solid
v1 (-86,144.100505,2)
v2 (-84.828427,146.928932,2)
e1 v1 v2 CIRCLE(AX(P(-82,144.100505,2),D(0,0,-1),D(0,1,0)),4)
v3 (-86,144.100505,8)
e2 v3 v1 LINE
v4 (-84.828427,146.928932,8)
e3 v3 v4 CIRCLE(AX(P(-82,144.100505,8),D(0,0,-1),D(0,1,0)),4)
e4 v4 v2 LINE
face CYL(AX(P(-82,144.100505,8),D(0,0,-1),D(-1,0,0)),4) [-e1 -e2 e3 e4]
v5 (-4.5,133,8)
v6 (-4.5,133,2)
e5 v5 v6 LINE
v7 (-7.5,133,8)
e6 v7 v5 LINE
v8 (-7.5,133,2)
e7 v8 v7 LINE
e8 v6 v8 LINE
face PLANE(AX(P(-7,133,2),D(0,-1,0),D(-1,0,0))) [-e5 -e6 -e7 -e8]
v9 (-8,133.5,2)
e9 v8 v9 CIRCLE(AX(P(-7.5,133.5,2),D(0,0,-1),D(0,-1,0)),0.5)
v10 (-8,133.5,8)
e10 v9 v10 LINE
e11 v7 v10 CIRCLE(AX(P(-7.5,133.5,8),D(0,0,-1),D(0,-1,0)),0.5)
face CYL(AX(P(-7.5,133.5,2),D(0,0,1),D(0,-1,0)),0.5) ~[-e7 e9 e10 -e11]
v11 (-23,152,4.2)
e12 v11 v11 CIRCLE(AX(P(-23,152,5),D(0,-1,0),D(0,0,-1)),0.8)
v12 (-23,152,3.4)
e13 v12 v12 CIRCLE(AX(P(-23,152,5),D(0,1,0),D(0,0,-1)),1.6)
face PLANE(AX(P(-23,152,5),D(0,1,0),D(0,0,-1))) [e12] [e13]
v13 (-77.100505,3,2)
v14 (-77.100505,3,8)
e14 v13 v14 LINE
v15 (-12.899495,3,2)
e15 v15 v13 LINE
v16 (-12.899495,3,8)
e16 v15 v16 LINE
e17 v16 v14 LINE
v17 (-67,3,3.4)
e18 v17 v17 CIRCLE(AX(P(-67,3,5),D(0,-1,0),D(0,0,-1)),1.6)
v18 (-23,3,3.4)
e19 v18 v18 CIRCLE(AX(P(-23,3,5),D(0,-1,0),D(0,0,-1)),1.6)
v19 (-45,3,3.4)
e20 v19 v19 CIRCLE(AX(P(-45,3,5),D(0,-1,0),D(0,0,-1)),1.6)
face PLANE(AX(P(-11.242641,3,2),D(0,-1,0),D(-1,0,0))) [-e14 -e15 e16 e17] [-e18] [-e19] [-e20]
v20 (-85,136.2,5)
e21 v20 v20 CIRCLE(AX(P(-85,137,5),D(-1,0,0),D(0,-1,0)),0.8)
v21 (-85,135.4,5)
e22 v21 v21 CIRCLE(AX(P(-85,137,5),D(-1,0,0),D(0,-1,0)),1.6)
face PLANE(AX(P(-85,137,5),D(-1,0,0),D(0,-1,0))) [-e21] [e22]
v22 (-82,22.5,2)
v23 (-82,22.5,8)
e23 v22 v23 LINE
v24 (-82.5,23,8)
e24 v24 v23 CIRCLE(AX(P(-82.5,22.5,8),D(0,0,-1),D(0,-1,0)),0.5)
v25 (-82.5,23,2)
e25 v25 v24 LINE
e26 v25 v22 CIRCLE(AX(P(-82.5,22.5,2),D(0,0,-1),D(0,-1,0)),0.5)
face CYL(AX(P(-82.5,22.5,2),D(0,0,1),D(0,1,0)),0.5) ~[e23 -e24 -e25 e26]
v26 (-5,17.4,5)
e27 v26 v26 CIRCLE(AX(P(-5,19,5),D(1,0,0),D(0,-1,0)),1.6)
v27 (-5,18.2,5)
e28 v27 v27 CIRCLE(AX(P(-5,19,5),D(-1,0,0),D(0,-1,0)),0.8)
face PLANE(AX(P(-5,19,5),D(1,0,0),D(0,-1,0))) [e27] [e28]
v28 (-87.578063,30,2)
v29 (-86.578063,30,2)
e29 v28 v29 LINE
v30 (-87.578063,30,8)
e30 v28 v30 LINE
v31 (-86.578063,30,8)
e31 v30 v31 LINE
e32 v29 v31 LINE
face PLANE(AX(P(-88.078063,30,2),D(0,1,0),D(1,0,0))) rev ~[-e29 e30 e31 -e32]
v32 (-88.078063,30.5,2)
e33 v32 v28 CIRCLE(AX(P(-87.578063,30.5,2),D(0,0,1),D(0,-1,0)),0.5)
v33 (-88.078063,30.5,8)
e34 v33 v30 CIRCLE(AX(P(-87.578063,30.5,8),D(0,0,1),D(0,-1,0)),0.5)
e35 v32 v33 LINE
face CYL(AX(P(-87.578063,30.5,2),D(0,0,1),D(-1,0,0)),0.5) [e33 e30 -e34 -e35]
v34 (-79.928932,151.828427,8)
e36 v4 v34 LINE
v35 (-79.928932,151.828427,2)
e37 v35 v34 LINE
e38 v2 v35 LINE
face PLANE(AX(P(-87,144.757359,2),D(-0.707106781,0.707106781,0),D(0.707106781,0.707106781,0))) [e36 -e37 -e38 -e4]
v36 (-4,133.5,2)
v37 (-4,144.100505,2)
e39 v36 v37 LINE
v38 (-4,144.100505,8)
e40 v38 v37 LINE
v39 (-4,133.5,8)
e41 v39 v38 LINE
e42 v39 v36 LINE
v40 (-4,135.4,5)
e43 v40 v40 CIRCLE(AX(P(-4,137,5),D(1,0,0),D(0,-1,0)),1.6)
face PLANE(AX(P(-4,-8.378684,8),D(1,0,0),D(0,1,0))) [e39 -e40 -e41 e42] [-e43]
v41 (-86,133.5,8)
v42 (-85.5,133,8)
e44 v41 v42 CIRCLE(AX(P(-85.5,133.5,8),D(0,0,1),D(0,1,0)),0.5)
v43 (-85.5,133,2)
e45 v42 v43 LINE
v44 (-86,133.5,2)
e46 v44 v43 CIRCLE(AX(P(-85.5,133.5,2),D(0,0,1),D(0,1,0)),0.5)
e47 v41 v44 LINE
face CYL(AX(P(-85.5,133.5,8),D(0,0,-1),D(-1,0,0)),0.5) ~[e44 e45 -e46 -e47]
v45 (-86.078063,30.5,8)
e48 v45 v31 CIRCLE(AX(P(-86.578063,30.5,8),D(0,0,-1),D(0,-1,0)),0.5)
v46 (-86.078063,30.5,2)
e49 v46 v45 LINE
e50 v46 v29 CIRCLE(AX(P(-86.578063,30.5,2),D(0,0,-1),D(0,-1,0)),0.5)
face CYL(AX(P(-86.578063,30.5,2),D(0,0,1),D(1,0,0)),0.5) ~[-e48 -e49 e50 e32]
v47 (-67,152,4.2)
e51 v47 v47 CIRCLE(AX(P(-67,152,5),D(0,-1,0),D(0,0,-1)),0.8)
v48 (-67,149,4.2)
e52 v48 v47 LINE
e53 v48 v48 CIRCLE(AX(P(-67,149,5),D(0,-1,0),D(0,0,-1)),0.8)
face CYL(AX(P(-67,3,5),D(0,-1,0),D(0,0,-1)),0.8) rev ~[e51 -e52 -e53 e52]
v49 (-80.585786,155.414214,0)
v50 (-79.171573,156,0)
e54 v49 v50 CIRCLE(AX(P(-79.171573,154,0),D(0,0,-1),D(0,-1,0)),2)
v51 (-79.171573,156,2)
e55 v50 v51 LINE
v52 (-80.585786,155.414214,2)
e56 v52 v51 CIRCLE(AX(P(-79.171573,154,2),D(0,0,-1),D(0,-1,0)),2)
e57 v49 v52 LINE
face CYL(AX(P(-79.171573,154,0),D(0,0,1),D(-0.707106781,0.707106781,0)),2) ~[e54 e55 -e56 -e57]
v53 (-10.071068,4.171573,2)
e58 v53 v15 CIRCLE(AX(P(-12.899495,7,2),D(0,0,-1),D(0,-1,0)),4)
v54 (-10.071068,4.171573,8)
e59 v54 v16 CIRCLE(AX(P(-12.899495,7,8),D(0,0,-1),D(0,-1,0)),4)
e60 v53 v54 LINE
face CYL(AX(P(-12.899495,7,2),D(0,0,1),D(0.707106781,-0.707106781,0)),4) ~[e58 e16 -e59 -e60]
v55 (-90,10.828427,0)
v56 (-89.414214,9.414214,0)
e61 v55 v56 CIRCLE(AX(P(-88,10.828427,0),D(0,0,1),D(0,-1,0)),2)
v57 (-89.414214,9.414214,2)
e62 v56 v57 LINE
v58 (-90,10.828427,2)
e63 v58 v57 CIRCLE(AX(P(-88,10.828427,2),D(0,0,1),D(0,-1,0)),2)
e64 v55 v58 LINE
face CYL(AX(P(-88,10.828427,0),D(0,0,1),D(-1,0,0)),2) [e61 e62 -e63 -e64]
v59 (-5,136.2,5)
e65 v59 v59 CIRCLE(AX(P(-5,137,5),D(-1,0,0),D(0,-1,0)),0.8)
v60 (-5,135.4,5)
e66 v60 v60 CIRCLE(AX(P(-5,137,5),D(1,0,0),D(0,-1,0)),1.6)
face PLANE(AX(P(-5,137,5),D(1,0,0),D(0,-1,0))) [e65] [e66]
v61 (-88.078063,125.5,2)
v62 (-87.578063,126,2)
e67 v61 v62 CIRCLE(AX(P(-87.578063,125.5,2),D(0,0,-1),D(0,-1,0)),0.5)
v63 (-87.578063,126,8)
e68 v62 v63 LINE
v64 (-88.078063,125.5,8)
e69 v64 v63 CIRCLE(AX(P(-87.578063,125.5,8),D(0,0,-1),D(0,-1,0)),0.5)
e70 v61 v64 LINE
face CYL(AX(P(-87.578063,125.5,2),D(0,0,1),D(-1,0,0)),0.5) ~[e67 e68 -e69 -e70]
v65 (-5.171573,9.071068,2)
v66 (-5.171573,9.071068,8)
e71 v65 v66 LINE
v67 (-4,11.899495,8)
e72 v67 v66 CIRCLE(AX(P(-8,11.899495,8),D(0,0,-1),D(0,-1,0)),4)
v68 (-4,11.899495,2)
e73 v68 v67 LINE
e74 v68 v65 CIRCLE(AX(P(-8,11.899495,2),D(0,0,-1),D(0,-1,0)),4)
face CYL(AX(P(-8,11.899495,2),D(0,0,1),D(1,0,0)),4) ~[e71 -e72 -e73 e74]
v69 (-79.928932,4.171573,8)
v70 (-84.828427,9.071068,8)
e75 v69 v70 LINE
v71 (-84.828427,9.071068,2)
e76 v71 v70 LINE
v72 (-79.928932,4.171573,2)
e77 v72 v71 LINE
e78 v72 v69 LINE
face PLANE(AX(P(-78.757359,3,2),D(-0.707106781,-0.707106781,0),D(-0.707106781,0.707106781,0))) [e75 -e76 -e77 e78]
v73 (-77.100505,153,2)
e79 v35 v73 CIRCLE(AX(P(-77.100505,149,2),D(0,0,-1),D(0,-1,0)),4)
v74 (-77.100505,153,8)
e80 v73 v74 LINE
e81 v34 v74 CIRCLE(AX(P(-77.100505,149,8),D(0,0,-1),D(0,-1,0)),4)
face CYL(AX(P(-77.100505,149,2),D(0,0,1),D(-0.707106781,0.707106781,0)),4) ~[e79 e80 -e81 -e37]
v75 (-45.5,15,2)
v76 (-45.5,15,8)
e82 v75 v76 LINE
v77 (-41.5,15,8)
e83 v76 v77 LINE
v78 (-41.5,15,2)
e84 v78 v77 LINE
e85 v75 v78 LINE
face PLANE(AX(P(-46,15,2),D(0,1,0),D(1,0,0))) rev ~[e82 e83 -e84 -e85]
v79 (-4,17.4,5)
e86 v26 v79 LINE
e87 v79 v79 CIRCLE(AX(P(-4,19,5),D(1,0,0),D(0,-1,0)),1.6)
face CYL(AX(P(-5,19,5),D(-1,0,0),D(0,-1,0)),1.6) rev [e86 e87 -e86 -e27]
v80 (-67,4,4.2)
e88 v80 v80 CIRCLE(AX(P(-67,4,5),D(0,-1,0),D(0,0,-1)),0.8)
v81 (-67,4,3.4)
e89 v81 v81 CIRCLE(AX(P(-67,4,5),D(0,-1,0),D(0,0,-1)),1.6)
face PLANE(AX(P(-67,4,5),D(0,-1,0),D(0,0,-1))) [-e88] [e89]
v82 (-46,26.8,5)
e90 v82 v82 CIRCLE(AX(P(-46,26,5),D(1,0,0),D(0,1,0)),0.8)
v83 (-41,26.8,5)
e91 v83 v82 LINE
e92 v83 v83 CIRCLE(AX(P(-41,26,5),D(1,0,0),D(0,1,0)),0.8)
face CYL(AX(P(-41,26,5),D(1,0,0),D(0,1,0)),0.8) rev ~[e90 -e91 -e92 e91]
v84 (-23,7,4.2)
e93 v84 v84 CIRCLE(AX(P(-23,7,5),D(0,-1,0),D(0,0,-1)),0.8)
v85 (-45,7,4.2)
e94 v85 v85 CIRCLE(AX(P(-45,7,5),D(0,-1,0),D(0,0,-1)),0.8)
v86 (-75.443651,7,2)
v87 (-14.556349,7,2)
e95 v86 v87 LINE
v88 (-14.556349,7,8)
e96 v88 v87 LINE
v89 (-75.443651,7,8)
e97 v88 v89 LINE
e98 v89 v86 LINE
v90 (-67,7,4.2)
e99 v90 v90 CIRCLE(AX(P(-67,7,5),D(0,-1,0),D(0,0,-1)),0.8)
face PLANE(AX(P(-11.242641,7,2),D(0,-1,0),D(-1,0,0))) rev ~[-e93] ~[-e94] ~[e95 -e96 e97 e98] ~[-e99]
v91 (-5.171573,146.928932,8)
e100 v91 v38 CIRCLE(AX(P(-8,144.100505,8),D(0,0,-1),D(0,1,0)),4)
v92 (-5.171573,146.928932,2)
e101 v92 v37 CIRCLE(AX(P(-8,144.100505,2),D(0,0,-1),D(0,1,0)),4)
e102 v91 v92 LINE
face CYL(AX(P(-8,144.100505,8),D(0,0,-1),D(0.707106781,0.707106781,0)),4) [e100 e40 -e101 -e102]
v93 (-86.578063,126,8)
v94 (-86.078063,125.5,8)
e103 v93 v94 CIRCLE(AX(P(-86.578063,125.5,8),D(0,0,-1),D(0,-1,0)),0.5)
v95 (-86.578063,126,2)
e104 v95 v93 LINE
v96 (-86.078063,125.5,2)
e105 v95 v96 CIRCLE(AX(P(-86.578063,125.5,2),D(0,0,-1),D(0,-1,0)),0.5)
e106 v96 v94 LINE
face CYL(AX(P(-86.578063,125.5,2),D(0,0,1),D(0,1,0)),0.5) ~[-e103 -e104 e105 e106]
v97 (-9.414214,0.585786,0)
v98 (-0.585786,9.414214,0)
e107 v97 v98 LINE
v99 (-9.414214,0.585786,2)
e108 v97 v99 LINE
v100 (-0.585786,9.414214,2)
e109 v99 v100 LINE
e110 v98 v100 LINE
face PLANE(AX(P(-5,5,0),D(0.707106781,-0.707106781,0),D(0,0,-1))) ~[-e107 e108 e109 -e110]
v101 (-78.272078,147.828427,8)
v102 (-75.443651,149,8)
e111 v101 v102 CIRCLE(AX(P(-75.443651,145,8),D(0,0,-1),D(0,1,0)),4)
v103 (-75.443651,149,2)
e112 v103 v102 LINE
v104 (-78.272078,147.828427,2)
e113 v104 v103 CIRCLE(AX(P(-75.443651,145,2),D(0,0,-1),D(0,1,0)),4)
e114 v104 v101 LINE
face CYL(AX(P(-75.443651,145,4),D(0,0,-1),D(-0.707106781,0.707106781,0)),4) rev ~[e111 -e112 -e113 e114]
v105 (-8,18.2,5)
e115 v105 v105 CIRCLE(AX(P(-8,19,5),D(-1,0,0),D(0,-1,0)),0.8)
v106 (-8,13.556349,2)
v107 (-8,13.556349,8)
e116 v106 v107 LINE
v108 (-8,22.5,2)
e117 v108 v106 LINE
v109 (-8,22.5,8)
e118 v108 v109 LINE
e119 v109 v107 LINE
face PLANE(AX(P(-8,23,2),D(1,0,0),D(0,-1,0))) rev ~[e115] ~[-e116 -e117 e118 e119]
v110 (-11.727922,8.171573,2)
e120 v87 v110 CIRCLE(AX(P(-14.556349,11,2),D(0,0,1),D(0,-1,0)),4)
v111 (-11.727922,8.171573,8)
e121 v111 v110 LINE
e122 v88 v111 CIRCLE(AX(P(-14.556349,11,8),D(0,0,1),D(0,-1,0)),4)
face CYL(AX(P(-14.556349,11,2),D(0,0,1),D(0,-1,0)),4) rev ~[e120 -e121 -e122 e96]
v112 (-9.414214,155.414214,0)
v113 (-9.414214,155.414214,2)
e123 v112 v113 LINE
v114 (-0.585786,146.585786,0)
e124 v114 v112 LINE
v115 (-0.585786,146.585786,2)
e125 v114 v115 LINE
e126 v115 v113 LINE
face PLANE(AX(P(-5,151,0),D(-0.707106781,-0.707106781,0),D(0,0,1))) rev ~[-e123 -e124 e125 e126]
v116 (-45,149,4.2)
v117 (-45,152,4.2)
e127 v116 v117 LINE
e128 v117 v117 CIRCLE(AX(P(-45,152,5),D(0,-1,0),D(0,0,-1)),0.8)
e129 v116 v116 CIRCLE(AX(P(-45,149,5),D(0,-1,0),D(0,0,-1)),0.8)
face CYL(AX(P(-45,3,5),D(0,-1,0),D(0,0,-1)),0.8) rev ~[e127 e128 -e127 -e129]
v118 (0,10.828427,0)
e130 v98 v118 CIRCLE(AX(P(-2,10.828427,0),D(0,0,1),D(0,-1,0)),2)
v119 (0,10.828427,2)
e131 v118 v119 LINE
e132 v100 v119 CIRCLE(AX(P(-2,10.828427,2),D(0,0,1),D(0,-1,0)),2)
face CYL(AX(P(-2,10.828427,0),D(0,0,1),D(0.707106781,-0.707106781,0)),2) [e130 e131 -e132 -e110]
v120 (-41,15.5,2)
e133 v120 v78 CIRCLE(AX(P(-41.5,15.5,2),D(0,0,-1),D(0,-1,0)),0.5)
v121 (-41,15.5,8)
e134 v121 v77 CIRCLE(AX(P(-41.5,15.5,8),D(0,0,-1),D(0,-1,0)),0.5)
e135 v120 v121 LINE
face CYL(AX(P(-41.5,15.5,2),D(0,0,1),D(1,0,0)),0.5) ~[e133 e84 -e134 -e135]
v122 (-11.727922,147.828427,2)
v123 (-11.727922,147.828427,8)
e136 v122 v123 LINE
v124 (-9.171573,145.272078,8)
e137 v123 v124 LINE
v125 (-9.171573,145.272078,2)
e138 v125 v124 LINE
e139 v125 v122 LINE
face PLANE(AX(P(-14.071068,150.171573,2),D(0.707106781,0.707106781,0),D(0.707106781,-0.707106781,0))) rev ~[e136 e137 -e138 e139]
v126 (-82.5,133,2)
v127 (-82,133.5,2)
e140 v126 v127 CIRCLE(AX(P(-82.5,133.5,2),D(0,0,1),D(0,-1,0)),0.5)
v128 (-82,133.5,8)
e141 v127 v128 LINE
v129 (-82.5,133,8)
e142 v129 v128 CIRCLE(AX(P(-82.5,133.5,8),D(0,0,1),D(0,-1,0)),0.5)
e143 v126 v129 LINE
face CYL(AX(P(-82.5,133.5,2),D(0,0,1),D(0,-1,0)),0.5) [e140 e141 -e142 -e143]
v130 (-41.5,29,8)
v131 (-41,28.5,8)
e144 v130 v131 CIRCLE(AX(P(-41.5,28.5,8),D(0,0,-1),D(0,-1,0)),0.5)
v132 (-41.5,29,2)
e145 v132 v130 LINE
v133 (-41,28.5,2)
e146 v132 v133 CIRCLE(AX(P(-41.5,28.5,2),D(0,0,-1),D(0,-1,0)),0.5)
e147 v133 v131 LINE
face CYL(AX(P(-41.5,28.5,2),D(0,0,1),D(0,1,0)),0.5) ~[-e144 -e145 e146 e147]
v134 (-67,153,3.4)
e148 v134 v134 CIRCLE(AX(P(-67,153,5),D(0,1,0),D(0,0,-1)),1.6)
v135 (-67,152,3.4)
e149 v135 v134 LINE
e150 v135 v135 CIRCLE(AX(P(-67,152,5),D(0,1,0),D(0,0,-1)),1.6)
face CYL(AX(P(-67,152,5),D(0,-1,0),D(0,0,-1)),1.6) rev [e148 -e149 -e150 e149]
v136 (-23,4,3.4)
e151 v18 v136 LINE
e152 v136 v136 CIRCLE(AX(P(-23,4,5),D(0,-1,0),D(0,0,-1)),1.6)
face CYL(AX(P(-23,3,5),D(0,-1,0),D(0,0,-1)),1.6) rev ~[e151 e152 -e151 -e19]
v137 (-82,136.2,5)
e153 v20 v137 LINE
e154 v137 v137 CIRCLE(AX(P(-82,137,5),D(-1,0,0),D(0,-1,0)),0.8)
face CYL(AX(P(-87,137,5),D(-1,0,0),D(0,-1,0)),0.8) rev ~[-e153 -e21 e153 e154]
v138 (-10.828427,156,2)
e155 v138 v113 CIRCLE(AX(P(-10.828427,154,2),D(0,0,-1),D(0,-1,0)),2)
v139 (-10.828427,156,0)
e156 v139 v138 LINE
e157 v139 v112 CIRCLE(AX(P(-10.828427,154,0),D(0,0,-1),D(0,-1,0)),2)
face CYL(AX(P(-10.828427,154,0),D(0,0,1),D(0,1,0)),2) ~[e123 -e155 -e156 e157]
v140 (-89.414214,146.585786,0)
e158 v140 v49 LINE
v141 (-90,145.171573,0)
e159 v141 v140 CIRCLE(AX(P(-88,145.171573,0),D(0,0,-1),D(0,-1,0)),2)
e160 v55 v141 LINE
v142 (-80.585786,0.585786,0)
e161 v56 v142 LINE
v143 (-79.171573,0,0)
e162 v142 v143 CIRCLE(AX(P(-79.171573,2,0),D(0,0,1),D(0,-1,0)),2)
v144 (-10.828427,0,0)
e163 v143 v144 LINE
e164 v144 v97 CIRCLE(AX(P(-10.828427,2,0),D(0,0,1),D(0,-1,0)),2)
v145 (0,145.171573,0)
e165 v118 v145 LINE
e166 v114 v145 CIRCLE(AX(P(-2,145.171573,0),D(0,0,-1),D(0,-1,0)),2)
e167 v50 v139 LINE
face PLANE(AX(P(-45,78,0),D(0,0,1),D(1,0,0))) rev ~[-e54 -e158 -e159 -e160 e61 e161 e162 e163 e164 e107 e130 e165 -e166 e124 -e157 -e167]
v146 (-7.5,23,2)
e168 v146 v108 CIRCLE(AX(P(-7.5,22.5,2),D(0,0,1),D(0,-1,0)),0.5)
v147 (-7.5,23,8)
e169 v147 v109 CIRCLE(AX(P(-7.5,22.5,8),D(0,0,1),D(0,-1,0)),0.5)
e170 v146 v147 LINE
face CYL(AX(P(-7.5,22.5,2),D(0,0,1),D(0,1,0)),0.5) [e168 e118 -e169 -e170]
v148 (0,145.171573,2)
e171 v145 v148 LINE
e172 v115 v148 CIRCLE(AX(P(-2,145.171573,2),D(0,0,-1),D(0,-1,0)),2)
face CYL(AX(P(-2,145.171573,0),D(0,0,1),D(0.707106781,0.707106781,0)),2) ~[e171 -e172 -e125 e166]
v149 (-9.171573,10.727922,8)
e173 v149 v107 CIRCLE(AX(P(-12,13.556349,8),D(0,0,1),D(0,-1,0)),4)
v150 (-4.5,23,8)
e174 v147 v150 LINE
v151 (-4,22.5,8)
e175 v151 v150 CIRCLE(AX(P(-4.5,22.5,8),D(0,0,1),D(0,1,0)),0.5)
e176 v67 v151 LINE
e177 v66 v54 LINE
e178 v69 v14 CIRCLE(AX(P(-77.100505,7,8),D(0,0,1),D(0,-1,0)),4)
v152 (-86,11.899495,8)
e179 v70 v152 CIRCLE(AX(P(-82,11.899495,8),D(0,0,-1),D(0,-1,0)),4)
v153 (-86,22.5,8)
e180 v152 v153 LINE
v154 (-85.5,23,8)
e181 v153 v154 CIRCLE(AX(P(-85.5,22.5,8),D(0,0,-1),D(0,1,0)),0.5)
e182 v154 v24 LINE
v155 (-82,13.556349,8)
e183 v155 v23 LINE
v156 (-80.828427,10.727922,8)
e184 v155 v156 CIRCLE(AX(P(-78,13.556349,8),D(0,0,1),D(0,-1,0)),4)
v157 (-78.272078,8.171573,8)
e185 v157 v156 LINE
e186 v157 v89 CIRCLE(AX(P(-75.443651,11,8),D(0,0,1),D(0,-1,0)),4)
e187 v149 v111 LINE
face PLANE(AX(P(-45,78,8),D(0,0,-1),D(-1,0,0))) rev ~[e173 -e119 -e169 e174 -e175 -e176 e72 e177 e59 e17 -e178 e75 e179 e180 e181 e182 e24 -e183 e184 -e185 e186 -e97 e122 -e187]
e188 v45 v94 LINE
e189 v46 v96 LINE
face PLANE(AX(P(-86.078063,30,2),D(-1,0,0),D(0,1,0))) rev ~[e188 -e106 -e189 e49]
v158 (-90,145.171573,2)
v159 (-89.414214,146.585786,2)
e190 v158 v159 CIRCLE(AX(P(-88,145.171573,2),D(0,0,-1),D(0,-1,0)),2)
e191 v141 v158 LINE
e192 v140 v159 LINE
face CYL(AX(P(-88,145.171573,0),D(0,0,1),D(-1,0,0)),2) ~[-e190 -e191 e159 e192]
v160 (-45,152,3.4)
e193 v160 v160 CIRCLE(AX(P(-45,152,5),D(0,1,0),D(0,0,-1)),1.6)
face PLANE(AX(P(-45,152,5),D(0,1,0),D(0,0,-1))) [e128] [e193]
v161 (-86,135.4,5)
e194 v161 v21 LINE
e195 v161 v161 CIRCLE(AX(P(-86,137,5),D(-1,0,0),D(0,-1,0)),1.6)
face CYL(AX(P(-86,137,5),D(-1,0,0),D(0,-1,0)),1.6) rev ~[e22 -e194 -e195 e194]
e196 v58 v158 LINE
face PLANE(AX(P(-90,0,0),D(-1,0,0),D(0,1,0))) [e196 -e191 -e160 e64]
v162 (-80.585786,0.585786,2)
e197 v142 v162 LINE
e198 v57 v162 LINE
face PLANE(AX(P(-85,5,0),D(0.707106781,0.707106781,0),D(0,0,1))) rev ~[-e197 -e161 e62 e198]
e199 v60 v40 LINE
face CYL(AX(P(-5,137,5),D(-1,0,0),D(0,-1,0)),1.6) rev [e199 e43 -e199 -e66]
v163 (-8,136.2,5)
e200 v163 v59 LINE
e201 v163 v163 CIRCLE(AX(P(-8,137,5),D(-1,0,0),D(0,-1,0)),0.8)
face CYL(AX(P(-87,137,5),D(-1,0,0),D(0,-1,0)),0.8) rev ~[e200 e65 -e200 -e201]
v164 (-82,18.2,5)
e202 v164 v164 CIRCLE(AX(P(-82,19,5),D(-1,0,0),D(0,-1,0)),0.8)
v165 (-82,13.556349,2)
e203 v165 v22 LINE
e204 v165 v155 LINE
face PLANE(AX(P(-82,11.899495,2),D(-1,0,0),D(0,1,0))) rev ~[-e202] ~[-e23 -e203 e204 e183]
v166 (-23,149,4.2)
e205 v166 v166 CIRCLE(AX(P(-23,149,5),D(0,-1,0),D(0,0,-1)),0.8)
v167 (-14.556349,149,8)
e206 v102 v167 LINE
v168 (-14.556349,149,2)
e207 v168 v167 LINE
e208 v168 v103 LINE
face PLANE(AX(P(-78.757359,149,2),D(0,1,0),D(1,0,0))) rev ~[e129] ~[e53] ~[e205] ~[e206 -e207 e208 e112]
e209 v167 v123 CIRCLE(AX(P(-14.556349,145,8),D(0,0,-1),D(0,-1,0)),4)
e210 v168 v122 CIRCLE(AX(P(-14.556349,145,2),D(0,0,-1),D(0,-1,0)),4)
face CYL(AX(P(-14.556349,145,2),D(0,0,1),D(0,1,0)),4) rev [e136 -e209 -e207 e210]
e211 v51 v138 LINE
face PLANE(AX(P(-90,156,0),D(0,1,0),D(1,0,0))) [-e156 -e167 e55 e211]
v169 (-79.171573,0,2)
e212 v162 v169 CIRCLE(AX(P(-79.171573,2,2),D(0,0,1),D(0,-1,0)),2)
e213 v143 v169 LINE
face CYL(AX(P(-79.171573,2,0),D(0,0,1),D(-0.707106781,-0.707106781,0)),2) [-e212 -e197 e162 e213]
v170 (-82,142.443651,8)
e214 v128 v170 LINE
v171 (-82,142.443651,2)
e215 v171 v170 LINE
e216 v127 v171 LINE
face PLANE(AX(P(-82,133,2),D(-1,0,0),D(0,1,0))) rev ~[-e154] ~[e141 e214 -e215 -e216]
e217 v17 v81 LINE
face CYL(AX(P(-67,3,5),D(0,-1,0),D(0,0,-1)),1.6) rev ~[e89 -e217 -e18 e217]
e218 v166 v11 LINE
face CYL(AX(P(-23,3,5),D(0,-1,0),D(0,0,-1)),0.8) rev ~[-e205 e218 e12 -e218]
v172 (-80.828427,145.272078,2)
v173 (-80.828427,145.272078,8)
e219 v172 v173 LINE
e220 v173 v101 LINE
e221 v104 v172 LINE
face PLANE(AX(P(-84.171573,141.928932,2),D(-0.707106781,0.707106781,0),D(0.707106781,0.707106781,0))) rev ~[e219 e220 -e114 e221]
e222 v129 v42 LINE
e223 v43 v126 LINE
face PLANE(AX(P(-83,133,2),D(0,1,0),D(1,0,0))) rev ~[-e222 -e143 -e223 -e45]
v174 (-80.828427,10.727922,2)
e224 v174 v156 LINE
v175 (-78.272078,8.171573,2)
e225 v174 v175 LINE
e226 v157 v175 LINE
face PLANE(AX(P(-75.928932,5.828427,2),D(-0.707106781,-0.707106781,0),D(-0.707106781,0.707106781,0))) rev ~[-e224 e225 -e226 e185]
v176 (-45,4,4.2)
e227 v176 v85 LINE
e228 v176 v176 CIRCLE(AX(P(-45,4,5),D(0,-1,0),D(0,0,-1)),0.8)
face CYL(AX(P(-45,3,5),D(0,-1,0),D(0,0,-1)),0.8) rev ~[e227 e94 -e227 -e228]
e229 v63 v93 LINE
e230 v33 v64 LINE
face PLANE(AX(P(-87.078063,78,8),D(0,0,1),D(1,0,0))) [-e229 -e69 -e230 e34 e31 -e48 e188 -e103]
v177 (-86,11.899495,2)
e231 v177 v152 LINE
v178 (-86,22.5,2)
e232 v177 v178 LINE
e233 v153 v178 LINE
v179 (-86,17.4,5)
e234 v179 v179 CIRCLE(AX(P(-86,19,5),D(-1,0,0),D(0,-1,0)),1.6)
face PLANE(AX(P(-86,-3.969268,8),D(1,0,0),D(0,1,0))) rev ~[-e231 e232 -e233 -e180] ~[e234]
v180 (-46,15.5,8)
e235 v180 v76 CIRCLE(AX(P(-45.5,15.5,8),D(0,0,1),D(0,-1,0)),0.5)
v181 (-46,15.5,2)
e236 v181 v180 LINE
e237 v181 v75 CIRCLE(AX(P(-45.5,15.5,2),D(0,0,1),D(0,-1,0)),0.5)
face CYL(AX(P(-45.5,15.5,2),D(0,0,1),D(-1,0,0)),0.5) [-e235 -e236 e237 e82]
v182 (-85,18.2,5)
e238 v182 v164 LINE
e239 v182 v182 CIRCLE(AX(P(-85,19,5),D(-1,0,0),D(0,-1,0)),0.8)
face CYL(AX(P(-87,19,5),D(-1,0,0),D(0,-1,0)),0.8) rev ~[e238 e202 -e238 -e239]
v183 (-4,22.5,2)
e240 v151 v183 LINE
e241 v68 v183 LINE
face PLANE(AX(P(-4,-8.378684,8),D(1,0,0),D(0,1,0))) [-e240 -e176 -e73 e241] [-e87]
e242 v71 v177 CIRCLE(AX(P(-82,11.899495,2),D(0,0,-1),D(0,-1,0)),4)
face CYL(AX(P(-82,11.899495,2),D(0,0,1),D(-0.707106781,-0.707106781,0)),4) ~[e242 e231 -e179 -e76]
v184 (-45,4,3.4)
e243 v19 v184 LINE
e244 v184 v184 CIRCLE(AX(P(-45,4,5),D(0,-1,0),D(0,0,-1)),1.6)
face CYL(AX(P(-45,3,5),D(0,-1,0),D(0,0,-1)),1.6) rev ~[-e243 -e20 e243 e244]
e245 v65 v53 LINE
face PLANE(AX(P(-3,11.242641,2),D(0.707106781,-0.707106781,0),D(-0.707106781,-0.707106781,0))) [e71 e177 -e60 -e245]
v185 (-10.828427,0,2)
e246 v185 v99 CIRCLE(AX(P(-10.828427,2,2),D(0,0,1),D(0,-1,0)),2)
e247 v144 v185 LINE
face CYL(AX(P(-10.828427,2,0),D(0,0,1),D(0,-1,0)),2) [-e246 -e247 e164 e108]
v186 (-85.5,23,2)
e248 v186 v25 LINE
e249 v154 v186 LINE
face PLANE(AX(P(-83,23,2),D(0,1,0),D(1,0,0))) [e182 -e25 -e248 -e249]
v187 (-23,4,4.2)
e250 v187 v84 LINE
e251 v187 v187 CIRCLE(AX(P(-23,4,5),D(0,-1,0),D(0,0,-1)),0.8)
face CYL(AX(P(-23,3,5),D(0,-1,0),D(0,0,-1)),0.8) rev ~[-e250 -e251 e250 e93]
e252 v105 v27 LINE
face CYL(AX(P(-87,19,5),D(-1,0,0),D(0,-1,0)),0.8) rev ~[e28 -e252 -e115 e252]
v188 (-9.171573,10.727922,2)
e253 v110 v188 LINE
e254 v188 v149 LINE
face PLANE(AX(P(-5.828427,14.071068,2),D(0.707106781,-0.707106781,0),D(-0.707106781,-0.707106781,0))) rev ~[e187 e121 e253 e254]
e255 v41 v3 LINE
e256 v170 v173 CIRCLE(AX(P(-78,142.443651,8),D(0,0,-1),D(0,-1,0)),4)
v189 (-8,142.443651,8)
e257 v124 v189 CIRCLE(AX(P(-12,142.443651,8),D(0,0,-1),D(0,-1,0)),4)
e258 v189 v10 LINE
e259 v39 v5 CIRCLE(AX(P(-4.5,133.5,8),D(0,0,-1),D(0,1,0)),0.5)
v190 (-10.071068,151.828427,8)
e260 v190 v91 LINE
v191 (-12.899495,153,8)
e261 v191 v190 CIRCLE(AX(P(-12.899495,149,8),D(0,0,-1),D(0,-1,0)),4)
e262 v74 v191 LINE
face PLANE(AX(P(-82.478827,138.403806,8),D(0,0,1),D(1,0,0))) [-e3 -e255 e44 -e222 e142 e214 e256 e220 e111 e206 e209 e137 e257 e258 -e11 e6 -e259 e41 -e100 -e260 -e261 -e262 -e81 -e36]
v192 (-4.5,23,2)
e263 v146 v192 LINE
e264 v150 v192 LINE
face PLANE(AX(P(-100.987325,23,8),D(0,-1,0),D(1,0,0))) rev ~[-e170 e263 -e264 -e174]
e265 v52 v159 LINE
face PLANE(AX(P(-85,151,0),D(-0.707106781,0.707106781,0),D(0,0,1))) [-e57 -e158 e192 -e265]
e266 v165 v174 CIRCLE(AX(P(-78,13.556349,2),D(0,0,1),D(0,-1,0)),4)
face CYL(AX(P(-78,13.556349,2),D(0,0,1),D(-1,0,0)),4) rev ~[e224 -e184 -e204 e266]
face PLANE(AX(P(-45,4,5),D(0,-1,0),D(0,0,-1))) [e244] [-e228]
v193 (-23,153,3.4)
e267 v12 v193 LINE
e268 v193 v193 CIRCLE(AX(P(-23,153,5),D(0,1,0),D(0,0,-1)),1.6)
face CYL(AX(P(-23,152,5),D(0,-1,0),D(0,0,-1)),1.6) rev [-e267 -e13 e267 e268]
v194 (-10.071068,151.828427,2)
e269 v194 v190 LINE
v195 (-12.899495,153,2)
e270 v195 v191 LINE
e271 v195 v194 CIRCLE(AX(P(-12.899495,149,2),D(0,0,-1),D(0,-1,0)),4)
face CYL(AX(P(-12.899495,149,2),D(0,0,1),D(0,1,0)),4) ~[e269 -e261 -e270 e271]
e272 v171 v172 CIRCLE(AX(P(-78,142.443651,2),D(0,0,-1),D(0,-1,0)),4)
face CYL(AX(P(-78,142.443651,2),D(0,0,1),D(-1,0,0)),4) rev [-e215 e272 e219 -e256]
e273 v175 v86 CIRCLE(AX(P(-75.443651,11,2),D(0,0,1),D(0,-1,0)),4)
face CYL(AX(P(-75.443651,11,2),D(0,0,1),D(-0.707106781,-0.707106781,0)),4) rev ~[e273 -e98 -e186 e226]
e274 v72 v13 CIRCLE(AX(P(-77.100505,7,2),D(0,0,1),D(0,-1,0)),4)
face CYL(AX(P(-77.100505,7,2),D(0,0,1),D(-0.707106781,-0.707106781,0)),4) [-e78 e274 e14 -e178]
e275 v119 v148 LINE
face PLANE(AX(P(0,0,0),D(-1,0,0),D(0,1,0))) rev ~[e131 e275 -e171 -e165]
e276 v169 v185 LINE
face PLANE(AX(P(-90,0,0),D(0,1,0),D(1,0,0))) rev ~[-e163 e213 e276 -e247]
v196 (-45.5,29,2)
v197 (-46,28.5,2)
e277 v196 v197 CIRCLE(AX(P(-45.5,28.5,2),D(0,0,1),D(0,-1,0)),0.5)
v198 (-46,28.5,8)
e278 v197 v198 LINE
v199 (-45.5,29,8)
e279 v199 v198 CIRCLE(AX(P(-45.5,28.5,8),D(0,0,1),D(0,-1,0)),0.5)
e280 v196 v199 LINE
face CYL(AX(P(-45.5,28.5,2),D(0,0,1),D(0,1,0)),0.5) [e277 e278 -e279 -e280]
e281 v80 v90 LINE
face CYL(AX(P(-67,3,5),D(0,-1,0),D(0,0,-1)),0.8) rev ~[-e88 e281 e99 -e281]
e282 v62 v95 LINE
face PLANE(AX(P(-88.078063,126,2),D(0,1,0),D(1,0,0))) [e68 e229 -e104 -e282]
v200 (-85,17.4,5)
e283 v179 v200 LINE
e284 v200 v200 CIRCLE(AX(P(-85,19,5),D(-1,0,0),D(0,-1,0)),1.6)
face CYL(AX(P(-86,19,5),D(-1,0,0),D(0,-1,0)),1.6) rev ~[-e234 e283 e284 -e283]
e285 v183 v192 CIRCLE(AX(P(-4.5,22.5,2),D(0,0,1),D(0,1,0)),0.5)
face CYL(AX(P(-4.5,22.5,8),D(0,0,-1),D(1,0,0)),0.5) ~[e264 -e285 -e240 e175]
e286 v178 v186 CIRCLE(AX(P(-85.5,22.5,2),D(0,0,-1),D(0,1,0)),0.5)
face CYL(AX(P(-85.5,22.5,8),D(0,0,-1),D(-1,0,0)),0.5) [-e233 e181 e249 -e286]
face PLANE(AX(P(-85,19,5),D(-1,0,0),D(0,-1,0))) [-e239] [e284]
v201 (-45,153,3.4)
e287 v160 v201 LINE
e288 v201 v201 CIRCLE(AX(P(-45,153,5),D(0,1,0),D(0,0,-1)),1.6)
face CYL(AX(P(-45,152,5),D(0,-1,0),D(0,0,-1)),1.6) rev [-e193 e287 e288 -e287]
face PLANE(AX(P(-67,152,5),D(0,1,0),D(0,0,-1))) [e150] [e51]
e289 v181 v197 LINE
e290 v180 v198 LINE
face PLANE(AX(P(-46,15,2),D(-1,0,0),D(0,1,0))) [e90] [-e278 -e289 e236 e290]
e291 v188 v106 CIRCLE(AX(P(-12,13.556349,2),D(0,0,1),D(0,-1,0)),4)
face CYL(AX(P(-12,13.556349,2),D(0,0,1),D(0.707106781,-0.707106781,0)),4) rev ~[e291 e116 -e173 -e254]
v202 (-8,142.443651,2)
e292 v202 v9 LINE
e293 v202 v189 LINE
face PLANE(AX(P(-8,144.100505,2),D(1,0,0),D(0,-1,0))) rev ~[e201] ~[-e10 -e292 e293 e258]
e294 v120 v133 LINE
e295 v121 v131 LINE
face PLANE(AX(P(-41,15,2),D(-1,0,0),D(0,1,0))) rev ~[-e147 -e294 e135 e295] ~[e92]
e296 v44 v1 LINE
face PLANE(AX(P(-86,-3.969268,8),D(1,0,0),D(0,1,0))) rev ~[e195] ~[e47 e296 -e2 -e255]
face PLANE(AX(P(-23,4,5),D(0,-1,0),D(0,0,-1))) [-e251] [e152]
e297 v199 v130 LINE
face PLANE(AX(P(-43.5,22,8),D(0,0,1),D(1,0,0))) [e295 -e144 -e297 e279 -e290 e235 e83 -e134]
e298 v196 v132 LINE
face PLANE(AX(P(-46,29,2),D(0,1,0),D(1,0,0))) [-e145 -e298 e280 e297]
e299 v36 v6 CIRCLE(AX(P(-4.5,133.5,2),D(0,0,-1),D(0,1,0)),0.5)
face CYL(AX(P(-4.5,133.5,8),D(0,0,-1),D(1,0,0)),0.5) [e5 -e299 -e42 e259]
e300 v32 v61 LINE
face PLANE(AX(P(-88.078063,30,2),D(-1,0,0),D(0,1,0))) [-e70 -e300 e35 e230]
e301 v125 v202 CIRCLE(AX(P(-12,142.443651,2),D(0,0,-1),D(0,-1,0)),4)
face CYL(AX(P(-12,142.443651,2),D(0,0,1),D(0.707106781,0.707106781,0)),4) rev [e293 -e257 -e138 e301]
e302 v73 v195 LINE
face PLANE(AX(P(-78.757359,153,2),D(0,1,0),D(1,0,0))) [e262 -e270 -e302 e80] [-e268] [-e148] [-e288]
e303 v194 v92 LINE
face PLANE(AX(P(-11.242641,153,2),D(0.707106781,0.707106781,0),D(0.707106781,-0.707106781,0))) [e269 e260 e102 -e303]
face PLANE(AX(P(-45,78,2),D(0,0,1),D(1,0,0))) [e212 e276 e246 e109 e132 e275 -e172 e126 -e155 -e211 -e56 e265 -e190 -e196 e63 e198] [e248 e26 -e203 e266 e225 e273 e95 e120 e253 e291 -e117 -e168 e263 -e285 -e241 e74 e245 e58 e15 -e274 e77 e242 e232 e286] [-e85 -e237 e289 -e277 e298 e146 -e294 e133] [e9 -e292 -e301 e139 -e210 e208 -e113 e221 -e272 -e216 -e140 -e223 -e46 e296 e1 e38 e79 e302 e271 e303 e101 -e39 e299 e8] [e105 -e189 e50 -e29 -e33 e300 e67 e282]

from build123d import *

# Parameters (mm, degrees)
SKETCH_1_W                = 90
SKETCH_1_H                = 156
EXTRUDE_1_DEPTH           = 2
CHAMFER_1_SIZE            = 10
FILLET_648_R              = 2
EXTRUDE_2_DEPTH           = 6
SHELL_3_T                 = -4
SHELL_3_THICKNESS_2_DEPTH = 2
SKETCH_17_W               = 18.399609766
SKETCH_17_H               = 163.649147631
SKETCH_17_W_2             = 16.459731854
SKETCH_17_H_2             = 168.058563627
CUT_EXTRUDE_14_DEPTH      = 6
SKETCH_8_W                = 109.527726605
SKETCH_8_H                = 110
CUT_EXTRUDE_4177_DEPTH    = 6
EXTRUDE_5_DEPTH           = 6
SKETCH_5_R                = 0.8
CUT_EXTRUDE_5486_DEPTH    = 200
FILLET_5638_R             = 4
SKETCH_4_R                = 0.8
CUT_EXTRUDE_6124_DEPTH    = 100
SKETCH_6_W                = 5
SKETCH_6_H                = 14
EXTRUDE_C_DEPTH           = 6
SKETCH_9_R                = 0.8
CUT_EXTRUDE_C_DEPTH       = 50
SKETCH_23_R               = 1.6
CUT_EXTRUDE_16_DEPTH      = 1
CUT_EXTRUDE_START         = -1
SKETCH_24_R               = 1.6
CUT_EXTRUDE_17_DEPTH      = 1
SKETCH_22_R               = 1.6
CUT_EXTRUDE_15_DEPTH      = 1
SKETCH_13_R               = 1.6
CUT_EXTRUDE_10_DEPTH      = 1
SKETCH_18_W               = 2
SKETCH_18_H               = 96
EXTRUDE_4_DEPTH           = 6
FILLET_1_R                = 4
FILLET_2_R                = 0.5
SKETCH_25_W               = 24.531639896
SKETCH_25_H               = 27.877987264
CUT_EXTRUDE_18_DEPTH      = 10


with BuildPart() as part:
    # 草图1 → 凸台-拉伸1 (new body)
    with BuildSketch(Plane.XY):
        with Locations((-45, 78)):
            Rectangle(SKETCH_1_W, SKETCH_1_H)
    extrude(amount=EXTRUDE_1_DEPTH)

    # 倒角1
    chamfer_1_edges = [part.edges().sort_by_distance(p)[0] for p in [
        (0, 0, 1),
        (-90, 0, 1),
        (-90, 156, 1),
        (0, 156, 1),
    ]]
    chamfer(chamfer_1_edges, length=CHAMFER_1_SIZE)

    # Fillet 648
    fillet_648_edges = [part.edges().sort_by_distance(p)[0] for p in [
        (0, 146, 1),
        (0, 10, 1),
        (-80, 0, 1),
        (-10, 0, 1),
        (-90, 146, 1),
        (-90, 10, 1),
        (-10, 156, 1),
        (-80, 156, 1),
    ]]
    fillet(fillet_648_edges, radius=FILLET_648_R)

    # 草图2 → 凸台-拉伸2 (add)
    with BuildSketch(Plane.XY.offset(2)):
        Polygon((-78.757359313, 153), (-11.242640687, 153), (-3, 144.757359313), (-3, 11.242640687), (-11.242640687, 3), (-78.757359313, 3), (-87, 11.242640687), (-87, 144.757359313), align=None)
    extrude(amount=EXTRUDE_2_DEPTH)

    # 抽壳3
    shell_3_openings = [part.faces().sort_by_distance(p)[0] for p in [
        (-45, 78, 8),
    ]]
    offset(amount=SHELL_3_T, openings=shell_3_openings, kind=Kind.INTERSECTION)

    # 抽壳3 thickness 2 face (on inner face of the shell) → 抽壳3 thickness 2 (cut)
    with BuildSketch(Plane(origin=(-45, 78, 4), x_dir=(-1, 0, 0), z_dir=(0, 0, -1))):
        Polygon((38, -65.100505063), (32.100505063, -71), (-32.100505063, -71), (-38, -65.100505063), (-38, 65.100505063), (-32.100505063, 71), (32.100505063, 71), (38, 65.100505063), align=None)
    extrude(amount=SHELL_3_THICKNESS_2_DEPTH, mode=Mode.SUBTRACT)

    # 草图17 → 切除-拉伸14 (cut)
    with BuildSketch(Plane.XY.offset(8)):
        with Locations((-95.199804883, 77.855305794)):
            Rectangle(SKETCH_17_W, SKETCH_17_H)
        with Locations((4.229865927, 75.650597796)):
            Rectangle(SKETCH_17_W_2, SKETCH_17_H_2)
    extrude(amount=-CUT_EXTRUDE_14_DEPTH, mode=Mode.SUBTRACT)

    # 草图8 → Cut-Extrude 4177 (cut)
    with BuildSketch(Plane.XY.offset(8)):
        with Locations((-46.223461864, 78)):
            Rectangle(SKETCH_8_W, SKETCH_8_H)
    extrude(amount=-CUT_EXTRUDE_4177_DEPTH, mode=Mode.SUBTRACT)

    # 草图21 → 凸台-拉伸5 (add)
    with BuildSketch(Plane.XY.offset(2)):
        Polygon((-82, 142.100505063), (-82, 144.100505063), (-83, 143.100505063), (-83, 133), (-82, 133), align=None)
        Polygon((-8, 142.100505063), (-8, 144.100505063), (-7, 143.100505063), (-7, 133), (-8, 133), align=None)
        Polygon((-82, 13.899494937), (-82, 11.899494937), (-83, 12.899494937), (-83, 23), (-82, 23), align=None)
        Polygon((-8, 13.899494937), (-8, 11.899494937), (-7, 12.899494937), (-7, 23), (-8, 23), align=None)
    extrude(amount=EXTRUDE_5_DEPTH)

    # 草图5 → Cut-Extrude 5486 (cut)
    with BuildSketch(Plane(origin=(0, 3, 0), x_dir=(-1, 0, 0), z_dir=(0, -1, 0))):
        with Locations(Location((67, -5, 0), (0, 0, 90))):
            Circle(SKETCH_5_R)
        with Locations(Location((23, -5, 0), (0, 0, 90))):
            Circle(SKETCH_5_R)
        with Locations(Location((45, -5, 0), (0, 0, 90))):
            Circle(SKETCH_5_R)
    extrude(amount=-CUT_EXTRUDE_5486_DEPTH, mode=Mode.SUBTRACT)

    # Fillet 5638
    fillet_5638_edges = [part.edges().sort_by_distance(p)[0] for p in [
        (-4, 145.757359313, 5),
        (-86, 10.242640687, 5),
        (-86, 145.757359313, 5),
        (-4, 10.242640687, 5),
        (-78.757359313, 153, 5),
        (-78.757359313, 3, 5),
        (-11.242640687, 3, 5),
        (-11.242640687, 153, 5),
    ]]
    fillet(fillet_5638_edges, radius=FILLET_5638_R)

    # 草图4 → Cut-Extrude 6124 (cut)
    with BuildSketch(Plane.ZY.offset(87)):
        with Locations(Location((5, 137, 0), (0, 0, 270))):
            Circle(SKETCH_4_R)
        with Locations(Location((5, 19, 0), (0, 0, 270))):
            Circle(SKETCH_4_R)
    extrude(amount=-CUT_EXTRUDE_6124_DEPTH, mode=Mode.SUBTRACT)

    # 草图6 → C板固定 (add)
    with BuildSketch(Plane.XY.offset(2)):
        with Locations((-48.5, 134)):
            Rectangle(SKETCH_6_W, SKETCH_6_H)
        with Locations((-43.5, 22)):
            Rectangle(SKETCH_6_W, SKETCH_6_H)
    extrude(amount=EXTRUDE_C_DEPTH)

    # 草图9 → C板螺纹 (cut)
    with BuildSketch(Plane(origin=(-41, 0, 0), x_dir=(0, 0, -1), z_dir=(1, 0, 0))):
        with Locations(Location((-5, 26, 0), (0, 0, 90))):
            Circle(SKETCH_9_R)
        with Locations((-5, 130)):
            Circle(SKETCH_9_R)
    extrude(amount=-CUT_EXTRUDE_C_DEPTH, mode=Mode.SUBTRACT)

    # 草图23 → 切除-拉伸16 (cut)
    with BuildSketch(Plane.ZY.offset(86)):
        with Locations(Location((5, 137, 0), (0, 0, 270))):
            Circle(SKETCH_23_R)
        with Locations(Location((5, 19, 0), (0, 0, 270))):
            Circle(SKETCH_23_R)
    extrude(amount=-CUT_EXTRUDE_16_DEPTH, mode=Mode.SUBTRACT)

    # 草图24 → 切除-拉伸17 (cut)
    with BuildSketch(Plane(origin=(-4, 0, 0), x_dir=(0, 0, -1), z_dir=(1, 0, 0)).offset(CUT_EXTRUDE_START)):
        with Locations(Location((-5, 19, 0), (0, 0, 270))):
            Circle(SKETCH_24_R)
        with Locations(Location((-5, 137, 0), (0, 0, 270))):
            Circle(SKETCH_24_R)
    extrude(amount=CUT_EXTRUDE_17_DEPTH, mode=Mode.SUBTRACT)

    # 草图22 → 切除-拉伸15 (cut)
    with BuildSketch(Plane(origin=(0, 3, 0), x_dir=(-1, 0, 0), z_dir=(0, -1, 0))):
        with Locations(Location((67, -5, 0), (0, 0, 90))):
            Circle(SKETCH_22_R)
        with Locations(Location((45, -5, 0), (0, 0, 90))):
            Circle(SKETCH_22_R)
        with Locations(Location((23, -5, 0), (0, 0, 90))):
            Circle(SKETCH_22_R)
    extrude(amount=-CUT_EXTRUDE_15_DEPTH, mode=Mode.SUBTRACT)

    # 草图13 → 切除-拉伸10 (cut)
    with BuildSketch(Plane(origin=(0, 153, 0), x_dir=(1, 0, 0), z_dir=(0, 1, 0)).offset(CUT_EXTRUDE_START)):
        with Locations(Location((-67, -5, 0), (0, 0, 90))):
            Circle(SKETCH_13_R)
        with Locations(Location((-45, -5, 0), (0, 0, 90))):
            Circle(SKETCH_13_R)
        with Locations(Location((-23, -5, 0), (0, 0, 90))):
            Circle(SKETCH_13_R)
    extrude(amount=CUT_EXTRUDE_10_DEPTH, mode=Mode.SUBTRACT)

    # 草图18 → 凸台-拉伸4 (add)
    with BuildSketch(Plane.XY.offset(2)):
        with Locations((-87.078063163, 78)):
            Rectangle(SKETCH_18_W, SKETCH_18_H)
    extrude(amount=EXTRUDE_4_DEPTH)

    # 圆角1
    fillet_1_edges = [part.edges().sort_by_distance(p)[0] for p in [
        (-77.100505063, 149, 5),
        (-77.100505063, 7, 5),
        (-12.899494937, 7, 5),
        (-12.899494937, 149, 5),
        (-82, 144.100505063, 5),
        (-8, 144.100505063, 5),
        (-82, 11.899494937, 5),
        (-8, 11.899494937, 5),
    ]]
    fillet(fillet_1_edges, radius=FILLET_1_R)

    # 圆角2
    fillet_2_edges = [part.edges().sort_by_distance(p)[0] for p in [
        (-86, 133, 5),
        (-86, 23, 5),
        (-4, 23, 5),
        (-4, 133, 5),
        (-82, 133, 5),
        (-8, 133, 5),
        (-82, 23, 5),
        (-8, 23, 5),
        (-51, 141, 5),
        (-51, 127, 5),
        (-46, 127, 5),
        (-46, 141, 5),
        (-41, 15, 5),
        (-41, 29, 5),
        (-46, 29, 5),
        (-46, 15, 5),
        (-88.078063163, 126, 5),
        (-88.078063163, 30, 5),
        (-86.078063163, 30, 5),
        (-86.078063163, 126, 5),
    ]]
    fillet(fillet_2_edges, radius=FILLET_2_R)

    # 草图25 → 切除-拉伸18 (cut)
    with BuildSketch(Plane.XY.offset(2)):
        with Locations((-48.129545647, 132.25729865)):
            Rectangle(SKETCH_25_W, SKETCH_25_H)
    extrude(amount=CUT_EXTRUDE_18_DEPTH, mode=Mode.SUBTRACT)


solid = part.part
